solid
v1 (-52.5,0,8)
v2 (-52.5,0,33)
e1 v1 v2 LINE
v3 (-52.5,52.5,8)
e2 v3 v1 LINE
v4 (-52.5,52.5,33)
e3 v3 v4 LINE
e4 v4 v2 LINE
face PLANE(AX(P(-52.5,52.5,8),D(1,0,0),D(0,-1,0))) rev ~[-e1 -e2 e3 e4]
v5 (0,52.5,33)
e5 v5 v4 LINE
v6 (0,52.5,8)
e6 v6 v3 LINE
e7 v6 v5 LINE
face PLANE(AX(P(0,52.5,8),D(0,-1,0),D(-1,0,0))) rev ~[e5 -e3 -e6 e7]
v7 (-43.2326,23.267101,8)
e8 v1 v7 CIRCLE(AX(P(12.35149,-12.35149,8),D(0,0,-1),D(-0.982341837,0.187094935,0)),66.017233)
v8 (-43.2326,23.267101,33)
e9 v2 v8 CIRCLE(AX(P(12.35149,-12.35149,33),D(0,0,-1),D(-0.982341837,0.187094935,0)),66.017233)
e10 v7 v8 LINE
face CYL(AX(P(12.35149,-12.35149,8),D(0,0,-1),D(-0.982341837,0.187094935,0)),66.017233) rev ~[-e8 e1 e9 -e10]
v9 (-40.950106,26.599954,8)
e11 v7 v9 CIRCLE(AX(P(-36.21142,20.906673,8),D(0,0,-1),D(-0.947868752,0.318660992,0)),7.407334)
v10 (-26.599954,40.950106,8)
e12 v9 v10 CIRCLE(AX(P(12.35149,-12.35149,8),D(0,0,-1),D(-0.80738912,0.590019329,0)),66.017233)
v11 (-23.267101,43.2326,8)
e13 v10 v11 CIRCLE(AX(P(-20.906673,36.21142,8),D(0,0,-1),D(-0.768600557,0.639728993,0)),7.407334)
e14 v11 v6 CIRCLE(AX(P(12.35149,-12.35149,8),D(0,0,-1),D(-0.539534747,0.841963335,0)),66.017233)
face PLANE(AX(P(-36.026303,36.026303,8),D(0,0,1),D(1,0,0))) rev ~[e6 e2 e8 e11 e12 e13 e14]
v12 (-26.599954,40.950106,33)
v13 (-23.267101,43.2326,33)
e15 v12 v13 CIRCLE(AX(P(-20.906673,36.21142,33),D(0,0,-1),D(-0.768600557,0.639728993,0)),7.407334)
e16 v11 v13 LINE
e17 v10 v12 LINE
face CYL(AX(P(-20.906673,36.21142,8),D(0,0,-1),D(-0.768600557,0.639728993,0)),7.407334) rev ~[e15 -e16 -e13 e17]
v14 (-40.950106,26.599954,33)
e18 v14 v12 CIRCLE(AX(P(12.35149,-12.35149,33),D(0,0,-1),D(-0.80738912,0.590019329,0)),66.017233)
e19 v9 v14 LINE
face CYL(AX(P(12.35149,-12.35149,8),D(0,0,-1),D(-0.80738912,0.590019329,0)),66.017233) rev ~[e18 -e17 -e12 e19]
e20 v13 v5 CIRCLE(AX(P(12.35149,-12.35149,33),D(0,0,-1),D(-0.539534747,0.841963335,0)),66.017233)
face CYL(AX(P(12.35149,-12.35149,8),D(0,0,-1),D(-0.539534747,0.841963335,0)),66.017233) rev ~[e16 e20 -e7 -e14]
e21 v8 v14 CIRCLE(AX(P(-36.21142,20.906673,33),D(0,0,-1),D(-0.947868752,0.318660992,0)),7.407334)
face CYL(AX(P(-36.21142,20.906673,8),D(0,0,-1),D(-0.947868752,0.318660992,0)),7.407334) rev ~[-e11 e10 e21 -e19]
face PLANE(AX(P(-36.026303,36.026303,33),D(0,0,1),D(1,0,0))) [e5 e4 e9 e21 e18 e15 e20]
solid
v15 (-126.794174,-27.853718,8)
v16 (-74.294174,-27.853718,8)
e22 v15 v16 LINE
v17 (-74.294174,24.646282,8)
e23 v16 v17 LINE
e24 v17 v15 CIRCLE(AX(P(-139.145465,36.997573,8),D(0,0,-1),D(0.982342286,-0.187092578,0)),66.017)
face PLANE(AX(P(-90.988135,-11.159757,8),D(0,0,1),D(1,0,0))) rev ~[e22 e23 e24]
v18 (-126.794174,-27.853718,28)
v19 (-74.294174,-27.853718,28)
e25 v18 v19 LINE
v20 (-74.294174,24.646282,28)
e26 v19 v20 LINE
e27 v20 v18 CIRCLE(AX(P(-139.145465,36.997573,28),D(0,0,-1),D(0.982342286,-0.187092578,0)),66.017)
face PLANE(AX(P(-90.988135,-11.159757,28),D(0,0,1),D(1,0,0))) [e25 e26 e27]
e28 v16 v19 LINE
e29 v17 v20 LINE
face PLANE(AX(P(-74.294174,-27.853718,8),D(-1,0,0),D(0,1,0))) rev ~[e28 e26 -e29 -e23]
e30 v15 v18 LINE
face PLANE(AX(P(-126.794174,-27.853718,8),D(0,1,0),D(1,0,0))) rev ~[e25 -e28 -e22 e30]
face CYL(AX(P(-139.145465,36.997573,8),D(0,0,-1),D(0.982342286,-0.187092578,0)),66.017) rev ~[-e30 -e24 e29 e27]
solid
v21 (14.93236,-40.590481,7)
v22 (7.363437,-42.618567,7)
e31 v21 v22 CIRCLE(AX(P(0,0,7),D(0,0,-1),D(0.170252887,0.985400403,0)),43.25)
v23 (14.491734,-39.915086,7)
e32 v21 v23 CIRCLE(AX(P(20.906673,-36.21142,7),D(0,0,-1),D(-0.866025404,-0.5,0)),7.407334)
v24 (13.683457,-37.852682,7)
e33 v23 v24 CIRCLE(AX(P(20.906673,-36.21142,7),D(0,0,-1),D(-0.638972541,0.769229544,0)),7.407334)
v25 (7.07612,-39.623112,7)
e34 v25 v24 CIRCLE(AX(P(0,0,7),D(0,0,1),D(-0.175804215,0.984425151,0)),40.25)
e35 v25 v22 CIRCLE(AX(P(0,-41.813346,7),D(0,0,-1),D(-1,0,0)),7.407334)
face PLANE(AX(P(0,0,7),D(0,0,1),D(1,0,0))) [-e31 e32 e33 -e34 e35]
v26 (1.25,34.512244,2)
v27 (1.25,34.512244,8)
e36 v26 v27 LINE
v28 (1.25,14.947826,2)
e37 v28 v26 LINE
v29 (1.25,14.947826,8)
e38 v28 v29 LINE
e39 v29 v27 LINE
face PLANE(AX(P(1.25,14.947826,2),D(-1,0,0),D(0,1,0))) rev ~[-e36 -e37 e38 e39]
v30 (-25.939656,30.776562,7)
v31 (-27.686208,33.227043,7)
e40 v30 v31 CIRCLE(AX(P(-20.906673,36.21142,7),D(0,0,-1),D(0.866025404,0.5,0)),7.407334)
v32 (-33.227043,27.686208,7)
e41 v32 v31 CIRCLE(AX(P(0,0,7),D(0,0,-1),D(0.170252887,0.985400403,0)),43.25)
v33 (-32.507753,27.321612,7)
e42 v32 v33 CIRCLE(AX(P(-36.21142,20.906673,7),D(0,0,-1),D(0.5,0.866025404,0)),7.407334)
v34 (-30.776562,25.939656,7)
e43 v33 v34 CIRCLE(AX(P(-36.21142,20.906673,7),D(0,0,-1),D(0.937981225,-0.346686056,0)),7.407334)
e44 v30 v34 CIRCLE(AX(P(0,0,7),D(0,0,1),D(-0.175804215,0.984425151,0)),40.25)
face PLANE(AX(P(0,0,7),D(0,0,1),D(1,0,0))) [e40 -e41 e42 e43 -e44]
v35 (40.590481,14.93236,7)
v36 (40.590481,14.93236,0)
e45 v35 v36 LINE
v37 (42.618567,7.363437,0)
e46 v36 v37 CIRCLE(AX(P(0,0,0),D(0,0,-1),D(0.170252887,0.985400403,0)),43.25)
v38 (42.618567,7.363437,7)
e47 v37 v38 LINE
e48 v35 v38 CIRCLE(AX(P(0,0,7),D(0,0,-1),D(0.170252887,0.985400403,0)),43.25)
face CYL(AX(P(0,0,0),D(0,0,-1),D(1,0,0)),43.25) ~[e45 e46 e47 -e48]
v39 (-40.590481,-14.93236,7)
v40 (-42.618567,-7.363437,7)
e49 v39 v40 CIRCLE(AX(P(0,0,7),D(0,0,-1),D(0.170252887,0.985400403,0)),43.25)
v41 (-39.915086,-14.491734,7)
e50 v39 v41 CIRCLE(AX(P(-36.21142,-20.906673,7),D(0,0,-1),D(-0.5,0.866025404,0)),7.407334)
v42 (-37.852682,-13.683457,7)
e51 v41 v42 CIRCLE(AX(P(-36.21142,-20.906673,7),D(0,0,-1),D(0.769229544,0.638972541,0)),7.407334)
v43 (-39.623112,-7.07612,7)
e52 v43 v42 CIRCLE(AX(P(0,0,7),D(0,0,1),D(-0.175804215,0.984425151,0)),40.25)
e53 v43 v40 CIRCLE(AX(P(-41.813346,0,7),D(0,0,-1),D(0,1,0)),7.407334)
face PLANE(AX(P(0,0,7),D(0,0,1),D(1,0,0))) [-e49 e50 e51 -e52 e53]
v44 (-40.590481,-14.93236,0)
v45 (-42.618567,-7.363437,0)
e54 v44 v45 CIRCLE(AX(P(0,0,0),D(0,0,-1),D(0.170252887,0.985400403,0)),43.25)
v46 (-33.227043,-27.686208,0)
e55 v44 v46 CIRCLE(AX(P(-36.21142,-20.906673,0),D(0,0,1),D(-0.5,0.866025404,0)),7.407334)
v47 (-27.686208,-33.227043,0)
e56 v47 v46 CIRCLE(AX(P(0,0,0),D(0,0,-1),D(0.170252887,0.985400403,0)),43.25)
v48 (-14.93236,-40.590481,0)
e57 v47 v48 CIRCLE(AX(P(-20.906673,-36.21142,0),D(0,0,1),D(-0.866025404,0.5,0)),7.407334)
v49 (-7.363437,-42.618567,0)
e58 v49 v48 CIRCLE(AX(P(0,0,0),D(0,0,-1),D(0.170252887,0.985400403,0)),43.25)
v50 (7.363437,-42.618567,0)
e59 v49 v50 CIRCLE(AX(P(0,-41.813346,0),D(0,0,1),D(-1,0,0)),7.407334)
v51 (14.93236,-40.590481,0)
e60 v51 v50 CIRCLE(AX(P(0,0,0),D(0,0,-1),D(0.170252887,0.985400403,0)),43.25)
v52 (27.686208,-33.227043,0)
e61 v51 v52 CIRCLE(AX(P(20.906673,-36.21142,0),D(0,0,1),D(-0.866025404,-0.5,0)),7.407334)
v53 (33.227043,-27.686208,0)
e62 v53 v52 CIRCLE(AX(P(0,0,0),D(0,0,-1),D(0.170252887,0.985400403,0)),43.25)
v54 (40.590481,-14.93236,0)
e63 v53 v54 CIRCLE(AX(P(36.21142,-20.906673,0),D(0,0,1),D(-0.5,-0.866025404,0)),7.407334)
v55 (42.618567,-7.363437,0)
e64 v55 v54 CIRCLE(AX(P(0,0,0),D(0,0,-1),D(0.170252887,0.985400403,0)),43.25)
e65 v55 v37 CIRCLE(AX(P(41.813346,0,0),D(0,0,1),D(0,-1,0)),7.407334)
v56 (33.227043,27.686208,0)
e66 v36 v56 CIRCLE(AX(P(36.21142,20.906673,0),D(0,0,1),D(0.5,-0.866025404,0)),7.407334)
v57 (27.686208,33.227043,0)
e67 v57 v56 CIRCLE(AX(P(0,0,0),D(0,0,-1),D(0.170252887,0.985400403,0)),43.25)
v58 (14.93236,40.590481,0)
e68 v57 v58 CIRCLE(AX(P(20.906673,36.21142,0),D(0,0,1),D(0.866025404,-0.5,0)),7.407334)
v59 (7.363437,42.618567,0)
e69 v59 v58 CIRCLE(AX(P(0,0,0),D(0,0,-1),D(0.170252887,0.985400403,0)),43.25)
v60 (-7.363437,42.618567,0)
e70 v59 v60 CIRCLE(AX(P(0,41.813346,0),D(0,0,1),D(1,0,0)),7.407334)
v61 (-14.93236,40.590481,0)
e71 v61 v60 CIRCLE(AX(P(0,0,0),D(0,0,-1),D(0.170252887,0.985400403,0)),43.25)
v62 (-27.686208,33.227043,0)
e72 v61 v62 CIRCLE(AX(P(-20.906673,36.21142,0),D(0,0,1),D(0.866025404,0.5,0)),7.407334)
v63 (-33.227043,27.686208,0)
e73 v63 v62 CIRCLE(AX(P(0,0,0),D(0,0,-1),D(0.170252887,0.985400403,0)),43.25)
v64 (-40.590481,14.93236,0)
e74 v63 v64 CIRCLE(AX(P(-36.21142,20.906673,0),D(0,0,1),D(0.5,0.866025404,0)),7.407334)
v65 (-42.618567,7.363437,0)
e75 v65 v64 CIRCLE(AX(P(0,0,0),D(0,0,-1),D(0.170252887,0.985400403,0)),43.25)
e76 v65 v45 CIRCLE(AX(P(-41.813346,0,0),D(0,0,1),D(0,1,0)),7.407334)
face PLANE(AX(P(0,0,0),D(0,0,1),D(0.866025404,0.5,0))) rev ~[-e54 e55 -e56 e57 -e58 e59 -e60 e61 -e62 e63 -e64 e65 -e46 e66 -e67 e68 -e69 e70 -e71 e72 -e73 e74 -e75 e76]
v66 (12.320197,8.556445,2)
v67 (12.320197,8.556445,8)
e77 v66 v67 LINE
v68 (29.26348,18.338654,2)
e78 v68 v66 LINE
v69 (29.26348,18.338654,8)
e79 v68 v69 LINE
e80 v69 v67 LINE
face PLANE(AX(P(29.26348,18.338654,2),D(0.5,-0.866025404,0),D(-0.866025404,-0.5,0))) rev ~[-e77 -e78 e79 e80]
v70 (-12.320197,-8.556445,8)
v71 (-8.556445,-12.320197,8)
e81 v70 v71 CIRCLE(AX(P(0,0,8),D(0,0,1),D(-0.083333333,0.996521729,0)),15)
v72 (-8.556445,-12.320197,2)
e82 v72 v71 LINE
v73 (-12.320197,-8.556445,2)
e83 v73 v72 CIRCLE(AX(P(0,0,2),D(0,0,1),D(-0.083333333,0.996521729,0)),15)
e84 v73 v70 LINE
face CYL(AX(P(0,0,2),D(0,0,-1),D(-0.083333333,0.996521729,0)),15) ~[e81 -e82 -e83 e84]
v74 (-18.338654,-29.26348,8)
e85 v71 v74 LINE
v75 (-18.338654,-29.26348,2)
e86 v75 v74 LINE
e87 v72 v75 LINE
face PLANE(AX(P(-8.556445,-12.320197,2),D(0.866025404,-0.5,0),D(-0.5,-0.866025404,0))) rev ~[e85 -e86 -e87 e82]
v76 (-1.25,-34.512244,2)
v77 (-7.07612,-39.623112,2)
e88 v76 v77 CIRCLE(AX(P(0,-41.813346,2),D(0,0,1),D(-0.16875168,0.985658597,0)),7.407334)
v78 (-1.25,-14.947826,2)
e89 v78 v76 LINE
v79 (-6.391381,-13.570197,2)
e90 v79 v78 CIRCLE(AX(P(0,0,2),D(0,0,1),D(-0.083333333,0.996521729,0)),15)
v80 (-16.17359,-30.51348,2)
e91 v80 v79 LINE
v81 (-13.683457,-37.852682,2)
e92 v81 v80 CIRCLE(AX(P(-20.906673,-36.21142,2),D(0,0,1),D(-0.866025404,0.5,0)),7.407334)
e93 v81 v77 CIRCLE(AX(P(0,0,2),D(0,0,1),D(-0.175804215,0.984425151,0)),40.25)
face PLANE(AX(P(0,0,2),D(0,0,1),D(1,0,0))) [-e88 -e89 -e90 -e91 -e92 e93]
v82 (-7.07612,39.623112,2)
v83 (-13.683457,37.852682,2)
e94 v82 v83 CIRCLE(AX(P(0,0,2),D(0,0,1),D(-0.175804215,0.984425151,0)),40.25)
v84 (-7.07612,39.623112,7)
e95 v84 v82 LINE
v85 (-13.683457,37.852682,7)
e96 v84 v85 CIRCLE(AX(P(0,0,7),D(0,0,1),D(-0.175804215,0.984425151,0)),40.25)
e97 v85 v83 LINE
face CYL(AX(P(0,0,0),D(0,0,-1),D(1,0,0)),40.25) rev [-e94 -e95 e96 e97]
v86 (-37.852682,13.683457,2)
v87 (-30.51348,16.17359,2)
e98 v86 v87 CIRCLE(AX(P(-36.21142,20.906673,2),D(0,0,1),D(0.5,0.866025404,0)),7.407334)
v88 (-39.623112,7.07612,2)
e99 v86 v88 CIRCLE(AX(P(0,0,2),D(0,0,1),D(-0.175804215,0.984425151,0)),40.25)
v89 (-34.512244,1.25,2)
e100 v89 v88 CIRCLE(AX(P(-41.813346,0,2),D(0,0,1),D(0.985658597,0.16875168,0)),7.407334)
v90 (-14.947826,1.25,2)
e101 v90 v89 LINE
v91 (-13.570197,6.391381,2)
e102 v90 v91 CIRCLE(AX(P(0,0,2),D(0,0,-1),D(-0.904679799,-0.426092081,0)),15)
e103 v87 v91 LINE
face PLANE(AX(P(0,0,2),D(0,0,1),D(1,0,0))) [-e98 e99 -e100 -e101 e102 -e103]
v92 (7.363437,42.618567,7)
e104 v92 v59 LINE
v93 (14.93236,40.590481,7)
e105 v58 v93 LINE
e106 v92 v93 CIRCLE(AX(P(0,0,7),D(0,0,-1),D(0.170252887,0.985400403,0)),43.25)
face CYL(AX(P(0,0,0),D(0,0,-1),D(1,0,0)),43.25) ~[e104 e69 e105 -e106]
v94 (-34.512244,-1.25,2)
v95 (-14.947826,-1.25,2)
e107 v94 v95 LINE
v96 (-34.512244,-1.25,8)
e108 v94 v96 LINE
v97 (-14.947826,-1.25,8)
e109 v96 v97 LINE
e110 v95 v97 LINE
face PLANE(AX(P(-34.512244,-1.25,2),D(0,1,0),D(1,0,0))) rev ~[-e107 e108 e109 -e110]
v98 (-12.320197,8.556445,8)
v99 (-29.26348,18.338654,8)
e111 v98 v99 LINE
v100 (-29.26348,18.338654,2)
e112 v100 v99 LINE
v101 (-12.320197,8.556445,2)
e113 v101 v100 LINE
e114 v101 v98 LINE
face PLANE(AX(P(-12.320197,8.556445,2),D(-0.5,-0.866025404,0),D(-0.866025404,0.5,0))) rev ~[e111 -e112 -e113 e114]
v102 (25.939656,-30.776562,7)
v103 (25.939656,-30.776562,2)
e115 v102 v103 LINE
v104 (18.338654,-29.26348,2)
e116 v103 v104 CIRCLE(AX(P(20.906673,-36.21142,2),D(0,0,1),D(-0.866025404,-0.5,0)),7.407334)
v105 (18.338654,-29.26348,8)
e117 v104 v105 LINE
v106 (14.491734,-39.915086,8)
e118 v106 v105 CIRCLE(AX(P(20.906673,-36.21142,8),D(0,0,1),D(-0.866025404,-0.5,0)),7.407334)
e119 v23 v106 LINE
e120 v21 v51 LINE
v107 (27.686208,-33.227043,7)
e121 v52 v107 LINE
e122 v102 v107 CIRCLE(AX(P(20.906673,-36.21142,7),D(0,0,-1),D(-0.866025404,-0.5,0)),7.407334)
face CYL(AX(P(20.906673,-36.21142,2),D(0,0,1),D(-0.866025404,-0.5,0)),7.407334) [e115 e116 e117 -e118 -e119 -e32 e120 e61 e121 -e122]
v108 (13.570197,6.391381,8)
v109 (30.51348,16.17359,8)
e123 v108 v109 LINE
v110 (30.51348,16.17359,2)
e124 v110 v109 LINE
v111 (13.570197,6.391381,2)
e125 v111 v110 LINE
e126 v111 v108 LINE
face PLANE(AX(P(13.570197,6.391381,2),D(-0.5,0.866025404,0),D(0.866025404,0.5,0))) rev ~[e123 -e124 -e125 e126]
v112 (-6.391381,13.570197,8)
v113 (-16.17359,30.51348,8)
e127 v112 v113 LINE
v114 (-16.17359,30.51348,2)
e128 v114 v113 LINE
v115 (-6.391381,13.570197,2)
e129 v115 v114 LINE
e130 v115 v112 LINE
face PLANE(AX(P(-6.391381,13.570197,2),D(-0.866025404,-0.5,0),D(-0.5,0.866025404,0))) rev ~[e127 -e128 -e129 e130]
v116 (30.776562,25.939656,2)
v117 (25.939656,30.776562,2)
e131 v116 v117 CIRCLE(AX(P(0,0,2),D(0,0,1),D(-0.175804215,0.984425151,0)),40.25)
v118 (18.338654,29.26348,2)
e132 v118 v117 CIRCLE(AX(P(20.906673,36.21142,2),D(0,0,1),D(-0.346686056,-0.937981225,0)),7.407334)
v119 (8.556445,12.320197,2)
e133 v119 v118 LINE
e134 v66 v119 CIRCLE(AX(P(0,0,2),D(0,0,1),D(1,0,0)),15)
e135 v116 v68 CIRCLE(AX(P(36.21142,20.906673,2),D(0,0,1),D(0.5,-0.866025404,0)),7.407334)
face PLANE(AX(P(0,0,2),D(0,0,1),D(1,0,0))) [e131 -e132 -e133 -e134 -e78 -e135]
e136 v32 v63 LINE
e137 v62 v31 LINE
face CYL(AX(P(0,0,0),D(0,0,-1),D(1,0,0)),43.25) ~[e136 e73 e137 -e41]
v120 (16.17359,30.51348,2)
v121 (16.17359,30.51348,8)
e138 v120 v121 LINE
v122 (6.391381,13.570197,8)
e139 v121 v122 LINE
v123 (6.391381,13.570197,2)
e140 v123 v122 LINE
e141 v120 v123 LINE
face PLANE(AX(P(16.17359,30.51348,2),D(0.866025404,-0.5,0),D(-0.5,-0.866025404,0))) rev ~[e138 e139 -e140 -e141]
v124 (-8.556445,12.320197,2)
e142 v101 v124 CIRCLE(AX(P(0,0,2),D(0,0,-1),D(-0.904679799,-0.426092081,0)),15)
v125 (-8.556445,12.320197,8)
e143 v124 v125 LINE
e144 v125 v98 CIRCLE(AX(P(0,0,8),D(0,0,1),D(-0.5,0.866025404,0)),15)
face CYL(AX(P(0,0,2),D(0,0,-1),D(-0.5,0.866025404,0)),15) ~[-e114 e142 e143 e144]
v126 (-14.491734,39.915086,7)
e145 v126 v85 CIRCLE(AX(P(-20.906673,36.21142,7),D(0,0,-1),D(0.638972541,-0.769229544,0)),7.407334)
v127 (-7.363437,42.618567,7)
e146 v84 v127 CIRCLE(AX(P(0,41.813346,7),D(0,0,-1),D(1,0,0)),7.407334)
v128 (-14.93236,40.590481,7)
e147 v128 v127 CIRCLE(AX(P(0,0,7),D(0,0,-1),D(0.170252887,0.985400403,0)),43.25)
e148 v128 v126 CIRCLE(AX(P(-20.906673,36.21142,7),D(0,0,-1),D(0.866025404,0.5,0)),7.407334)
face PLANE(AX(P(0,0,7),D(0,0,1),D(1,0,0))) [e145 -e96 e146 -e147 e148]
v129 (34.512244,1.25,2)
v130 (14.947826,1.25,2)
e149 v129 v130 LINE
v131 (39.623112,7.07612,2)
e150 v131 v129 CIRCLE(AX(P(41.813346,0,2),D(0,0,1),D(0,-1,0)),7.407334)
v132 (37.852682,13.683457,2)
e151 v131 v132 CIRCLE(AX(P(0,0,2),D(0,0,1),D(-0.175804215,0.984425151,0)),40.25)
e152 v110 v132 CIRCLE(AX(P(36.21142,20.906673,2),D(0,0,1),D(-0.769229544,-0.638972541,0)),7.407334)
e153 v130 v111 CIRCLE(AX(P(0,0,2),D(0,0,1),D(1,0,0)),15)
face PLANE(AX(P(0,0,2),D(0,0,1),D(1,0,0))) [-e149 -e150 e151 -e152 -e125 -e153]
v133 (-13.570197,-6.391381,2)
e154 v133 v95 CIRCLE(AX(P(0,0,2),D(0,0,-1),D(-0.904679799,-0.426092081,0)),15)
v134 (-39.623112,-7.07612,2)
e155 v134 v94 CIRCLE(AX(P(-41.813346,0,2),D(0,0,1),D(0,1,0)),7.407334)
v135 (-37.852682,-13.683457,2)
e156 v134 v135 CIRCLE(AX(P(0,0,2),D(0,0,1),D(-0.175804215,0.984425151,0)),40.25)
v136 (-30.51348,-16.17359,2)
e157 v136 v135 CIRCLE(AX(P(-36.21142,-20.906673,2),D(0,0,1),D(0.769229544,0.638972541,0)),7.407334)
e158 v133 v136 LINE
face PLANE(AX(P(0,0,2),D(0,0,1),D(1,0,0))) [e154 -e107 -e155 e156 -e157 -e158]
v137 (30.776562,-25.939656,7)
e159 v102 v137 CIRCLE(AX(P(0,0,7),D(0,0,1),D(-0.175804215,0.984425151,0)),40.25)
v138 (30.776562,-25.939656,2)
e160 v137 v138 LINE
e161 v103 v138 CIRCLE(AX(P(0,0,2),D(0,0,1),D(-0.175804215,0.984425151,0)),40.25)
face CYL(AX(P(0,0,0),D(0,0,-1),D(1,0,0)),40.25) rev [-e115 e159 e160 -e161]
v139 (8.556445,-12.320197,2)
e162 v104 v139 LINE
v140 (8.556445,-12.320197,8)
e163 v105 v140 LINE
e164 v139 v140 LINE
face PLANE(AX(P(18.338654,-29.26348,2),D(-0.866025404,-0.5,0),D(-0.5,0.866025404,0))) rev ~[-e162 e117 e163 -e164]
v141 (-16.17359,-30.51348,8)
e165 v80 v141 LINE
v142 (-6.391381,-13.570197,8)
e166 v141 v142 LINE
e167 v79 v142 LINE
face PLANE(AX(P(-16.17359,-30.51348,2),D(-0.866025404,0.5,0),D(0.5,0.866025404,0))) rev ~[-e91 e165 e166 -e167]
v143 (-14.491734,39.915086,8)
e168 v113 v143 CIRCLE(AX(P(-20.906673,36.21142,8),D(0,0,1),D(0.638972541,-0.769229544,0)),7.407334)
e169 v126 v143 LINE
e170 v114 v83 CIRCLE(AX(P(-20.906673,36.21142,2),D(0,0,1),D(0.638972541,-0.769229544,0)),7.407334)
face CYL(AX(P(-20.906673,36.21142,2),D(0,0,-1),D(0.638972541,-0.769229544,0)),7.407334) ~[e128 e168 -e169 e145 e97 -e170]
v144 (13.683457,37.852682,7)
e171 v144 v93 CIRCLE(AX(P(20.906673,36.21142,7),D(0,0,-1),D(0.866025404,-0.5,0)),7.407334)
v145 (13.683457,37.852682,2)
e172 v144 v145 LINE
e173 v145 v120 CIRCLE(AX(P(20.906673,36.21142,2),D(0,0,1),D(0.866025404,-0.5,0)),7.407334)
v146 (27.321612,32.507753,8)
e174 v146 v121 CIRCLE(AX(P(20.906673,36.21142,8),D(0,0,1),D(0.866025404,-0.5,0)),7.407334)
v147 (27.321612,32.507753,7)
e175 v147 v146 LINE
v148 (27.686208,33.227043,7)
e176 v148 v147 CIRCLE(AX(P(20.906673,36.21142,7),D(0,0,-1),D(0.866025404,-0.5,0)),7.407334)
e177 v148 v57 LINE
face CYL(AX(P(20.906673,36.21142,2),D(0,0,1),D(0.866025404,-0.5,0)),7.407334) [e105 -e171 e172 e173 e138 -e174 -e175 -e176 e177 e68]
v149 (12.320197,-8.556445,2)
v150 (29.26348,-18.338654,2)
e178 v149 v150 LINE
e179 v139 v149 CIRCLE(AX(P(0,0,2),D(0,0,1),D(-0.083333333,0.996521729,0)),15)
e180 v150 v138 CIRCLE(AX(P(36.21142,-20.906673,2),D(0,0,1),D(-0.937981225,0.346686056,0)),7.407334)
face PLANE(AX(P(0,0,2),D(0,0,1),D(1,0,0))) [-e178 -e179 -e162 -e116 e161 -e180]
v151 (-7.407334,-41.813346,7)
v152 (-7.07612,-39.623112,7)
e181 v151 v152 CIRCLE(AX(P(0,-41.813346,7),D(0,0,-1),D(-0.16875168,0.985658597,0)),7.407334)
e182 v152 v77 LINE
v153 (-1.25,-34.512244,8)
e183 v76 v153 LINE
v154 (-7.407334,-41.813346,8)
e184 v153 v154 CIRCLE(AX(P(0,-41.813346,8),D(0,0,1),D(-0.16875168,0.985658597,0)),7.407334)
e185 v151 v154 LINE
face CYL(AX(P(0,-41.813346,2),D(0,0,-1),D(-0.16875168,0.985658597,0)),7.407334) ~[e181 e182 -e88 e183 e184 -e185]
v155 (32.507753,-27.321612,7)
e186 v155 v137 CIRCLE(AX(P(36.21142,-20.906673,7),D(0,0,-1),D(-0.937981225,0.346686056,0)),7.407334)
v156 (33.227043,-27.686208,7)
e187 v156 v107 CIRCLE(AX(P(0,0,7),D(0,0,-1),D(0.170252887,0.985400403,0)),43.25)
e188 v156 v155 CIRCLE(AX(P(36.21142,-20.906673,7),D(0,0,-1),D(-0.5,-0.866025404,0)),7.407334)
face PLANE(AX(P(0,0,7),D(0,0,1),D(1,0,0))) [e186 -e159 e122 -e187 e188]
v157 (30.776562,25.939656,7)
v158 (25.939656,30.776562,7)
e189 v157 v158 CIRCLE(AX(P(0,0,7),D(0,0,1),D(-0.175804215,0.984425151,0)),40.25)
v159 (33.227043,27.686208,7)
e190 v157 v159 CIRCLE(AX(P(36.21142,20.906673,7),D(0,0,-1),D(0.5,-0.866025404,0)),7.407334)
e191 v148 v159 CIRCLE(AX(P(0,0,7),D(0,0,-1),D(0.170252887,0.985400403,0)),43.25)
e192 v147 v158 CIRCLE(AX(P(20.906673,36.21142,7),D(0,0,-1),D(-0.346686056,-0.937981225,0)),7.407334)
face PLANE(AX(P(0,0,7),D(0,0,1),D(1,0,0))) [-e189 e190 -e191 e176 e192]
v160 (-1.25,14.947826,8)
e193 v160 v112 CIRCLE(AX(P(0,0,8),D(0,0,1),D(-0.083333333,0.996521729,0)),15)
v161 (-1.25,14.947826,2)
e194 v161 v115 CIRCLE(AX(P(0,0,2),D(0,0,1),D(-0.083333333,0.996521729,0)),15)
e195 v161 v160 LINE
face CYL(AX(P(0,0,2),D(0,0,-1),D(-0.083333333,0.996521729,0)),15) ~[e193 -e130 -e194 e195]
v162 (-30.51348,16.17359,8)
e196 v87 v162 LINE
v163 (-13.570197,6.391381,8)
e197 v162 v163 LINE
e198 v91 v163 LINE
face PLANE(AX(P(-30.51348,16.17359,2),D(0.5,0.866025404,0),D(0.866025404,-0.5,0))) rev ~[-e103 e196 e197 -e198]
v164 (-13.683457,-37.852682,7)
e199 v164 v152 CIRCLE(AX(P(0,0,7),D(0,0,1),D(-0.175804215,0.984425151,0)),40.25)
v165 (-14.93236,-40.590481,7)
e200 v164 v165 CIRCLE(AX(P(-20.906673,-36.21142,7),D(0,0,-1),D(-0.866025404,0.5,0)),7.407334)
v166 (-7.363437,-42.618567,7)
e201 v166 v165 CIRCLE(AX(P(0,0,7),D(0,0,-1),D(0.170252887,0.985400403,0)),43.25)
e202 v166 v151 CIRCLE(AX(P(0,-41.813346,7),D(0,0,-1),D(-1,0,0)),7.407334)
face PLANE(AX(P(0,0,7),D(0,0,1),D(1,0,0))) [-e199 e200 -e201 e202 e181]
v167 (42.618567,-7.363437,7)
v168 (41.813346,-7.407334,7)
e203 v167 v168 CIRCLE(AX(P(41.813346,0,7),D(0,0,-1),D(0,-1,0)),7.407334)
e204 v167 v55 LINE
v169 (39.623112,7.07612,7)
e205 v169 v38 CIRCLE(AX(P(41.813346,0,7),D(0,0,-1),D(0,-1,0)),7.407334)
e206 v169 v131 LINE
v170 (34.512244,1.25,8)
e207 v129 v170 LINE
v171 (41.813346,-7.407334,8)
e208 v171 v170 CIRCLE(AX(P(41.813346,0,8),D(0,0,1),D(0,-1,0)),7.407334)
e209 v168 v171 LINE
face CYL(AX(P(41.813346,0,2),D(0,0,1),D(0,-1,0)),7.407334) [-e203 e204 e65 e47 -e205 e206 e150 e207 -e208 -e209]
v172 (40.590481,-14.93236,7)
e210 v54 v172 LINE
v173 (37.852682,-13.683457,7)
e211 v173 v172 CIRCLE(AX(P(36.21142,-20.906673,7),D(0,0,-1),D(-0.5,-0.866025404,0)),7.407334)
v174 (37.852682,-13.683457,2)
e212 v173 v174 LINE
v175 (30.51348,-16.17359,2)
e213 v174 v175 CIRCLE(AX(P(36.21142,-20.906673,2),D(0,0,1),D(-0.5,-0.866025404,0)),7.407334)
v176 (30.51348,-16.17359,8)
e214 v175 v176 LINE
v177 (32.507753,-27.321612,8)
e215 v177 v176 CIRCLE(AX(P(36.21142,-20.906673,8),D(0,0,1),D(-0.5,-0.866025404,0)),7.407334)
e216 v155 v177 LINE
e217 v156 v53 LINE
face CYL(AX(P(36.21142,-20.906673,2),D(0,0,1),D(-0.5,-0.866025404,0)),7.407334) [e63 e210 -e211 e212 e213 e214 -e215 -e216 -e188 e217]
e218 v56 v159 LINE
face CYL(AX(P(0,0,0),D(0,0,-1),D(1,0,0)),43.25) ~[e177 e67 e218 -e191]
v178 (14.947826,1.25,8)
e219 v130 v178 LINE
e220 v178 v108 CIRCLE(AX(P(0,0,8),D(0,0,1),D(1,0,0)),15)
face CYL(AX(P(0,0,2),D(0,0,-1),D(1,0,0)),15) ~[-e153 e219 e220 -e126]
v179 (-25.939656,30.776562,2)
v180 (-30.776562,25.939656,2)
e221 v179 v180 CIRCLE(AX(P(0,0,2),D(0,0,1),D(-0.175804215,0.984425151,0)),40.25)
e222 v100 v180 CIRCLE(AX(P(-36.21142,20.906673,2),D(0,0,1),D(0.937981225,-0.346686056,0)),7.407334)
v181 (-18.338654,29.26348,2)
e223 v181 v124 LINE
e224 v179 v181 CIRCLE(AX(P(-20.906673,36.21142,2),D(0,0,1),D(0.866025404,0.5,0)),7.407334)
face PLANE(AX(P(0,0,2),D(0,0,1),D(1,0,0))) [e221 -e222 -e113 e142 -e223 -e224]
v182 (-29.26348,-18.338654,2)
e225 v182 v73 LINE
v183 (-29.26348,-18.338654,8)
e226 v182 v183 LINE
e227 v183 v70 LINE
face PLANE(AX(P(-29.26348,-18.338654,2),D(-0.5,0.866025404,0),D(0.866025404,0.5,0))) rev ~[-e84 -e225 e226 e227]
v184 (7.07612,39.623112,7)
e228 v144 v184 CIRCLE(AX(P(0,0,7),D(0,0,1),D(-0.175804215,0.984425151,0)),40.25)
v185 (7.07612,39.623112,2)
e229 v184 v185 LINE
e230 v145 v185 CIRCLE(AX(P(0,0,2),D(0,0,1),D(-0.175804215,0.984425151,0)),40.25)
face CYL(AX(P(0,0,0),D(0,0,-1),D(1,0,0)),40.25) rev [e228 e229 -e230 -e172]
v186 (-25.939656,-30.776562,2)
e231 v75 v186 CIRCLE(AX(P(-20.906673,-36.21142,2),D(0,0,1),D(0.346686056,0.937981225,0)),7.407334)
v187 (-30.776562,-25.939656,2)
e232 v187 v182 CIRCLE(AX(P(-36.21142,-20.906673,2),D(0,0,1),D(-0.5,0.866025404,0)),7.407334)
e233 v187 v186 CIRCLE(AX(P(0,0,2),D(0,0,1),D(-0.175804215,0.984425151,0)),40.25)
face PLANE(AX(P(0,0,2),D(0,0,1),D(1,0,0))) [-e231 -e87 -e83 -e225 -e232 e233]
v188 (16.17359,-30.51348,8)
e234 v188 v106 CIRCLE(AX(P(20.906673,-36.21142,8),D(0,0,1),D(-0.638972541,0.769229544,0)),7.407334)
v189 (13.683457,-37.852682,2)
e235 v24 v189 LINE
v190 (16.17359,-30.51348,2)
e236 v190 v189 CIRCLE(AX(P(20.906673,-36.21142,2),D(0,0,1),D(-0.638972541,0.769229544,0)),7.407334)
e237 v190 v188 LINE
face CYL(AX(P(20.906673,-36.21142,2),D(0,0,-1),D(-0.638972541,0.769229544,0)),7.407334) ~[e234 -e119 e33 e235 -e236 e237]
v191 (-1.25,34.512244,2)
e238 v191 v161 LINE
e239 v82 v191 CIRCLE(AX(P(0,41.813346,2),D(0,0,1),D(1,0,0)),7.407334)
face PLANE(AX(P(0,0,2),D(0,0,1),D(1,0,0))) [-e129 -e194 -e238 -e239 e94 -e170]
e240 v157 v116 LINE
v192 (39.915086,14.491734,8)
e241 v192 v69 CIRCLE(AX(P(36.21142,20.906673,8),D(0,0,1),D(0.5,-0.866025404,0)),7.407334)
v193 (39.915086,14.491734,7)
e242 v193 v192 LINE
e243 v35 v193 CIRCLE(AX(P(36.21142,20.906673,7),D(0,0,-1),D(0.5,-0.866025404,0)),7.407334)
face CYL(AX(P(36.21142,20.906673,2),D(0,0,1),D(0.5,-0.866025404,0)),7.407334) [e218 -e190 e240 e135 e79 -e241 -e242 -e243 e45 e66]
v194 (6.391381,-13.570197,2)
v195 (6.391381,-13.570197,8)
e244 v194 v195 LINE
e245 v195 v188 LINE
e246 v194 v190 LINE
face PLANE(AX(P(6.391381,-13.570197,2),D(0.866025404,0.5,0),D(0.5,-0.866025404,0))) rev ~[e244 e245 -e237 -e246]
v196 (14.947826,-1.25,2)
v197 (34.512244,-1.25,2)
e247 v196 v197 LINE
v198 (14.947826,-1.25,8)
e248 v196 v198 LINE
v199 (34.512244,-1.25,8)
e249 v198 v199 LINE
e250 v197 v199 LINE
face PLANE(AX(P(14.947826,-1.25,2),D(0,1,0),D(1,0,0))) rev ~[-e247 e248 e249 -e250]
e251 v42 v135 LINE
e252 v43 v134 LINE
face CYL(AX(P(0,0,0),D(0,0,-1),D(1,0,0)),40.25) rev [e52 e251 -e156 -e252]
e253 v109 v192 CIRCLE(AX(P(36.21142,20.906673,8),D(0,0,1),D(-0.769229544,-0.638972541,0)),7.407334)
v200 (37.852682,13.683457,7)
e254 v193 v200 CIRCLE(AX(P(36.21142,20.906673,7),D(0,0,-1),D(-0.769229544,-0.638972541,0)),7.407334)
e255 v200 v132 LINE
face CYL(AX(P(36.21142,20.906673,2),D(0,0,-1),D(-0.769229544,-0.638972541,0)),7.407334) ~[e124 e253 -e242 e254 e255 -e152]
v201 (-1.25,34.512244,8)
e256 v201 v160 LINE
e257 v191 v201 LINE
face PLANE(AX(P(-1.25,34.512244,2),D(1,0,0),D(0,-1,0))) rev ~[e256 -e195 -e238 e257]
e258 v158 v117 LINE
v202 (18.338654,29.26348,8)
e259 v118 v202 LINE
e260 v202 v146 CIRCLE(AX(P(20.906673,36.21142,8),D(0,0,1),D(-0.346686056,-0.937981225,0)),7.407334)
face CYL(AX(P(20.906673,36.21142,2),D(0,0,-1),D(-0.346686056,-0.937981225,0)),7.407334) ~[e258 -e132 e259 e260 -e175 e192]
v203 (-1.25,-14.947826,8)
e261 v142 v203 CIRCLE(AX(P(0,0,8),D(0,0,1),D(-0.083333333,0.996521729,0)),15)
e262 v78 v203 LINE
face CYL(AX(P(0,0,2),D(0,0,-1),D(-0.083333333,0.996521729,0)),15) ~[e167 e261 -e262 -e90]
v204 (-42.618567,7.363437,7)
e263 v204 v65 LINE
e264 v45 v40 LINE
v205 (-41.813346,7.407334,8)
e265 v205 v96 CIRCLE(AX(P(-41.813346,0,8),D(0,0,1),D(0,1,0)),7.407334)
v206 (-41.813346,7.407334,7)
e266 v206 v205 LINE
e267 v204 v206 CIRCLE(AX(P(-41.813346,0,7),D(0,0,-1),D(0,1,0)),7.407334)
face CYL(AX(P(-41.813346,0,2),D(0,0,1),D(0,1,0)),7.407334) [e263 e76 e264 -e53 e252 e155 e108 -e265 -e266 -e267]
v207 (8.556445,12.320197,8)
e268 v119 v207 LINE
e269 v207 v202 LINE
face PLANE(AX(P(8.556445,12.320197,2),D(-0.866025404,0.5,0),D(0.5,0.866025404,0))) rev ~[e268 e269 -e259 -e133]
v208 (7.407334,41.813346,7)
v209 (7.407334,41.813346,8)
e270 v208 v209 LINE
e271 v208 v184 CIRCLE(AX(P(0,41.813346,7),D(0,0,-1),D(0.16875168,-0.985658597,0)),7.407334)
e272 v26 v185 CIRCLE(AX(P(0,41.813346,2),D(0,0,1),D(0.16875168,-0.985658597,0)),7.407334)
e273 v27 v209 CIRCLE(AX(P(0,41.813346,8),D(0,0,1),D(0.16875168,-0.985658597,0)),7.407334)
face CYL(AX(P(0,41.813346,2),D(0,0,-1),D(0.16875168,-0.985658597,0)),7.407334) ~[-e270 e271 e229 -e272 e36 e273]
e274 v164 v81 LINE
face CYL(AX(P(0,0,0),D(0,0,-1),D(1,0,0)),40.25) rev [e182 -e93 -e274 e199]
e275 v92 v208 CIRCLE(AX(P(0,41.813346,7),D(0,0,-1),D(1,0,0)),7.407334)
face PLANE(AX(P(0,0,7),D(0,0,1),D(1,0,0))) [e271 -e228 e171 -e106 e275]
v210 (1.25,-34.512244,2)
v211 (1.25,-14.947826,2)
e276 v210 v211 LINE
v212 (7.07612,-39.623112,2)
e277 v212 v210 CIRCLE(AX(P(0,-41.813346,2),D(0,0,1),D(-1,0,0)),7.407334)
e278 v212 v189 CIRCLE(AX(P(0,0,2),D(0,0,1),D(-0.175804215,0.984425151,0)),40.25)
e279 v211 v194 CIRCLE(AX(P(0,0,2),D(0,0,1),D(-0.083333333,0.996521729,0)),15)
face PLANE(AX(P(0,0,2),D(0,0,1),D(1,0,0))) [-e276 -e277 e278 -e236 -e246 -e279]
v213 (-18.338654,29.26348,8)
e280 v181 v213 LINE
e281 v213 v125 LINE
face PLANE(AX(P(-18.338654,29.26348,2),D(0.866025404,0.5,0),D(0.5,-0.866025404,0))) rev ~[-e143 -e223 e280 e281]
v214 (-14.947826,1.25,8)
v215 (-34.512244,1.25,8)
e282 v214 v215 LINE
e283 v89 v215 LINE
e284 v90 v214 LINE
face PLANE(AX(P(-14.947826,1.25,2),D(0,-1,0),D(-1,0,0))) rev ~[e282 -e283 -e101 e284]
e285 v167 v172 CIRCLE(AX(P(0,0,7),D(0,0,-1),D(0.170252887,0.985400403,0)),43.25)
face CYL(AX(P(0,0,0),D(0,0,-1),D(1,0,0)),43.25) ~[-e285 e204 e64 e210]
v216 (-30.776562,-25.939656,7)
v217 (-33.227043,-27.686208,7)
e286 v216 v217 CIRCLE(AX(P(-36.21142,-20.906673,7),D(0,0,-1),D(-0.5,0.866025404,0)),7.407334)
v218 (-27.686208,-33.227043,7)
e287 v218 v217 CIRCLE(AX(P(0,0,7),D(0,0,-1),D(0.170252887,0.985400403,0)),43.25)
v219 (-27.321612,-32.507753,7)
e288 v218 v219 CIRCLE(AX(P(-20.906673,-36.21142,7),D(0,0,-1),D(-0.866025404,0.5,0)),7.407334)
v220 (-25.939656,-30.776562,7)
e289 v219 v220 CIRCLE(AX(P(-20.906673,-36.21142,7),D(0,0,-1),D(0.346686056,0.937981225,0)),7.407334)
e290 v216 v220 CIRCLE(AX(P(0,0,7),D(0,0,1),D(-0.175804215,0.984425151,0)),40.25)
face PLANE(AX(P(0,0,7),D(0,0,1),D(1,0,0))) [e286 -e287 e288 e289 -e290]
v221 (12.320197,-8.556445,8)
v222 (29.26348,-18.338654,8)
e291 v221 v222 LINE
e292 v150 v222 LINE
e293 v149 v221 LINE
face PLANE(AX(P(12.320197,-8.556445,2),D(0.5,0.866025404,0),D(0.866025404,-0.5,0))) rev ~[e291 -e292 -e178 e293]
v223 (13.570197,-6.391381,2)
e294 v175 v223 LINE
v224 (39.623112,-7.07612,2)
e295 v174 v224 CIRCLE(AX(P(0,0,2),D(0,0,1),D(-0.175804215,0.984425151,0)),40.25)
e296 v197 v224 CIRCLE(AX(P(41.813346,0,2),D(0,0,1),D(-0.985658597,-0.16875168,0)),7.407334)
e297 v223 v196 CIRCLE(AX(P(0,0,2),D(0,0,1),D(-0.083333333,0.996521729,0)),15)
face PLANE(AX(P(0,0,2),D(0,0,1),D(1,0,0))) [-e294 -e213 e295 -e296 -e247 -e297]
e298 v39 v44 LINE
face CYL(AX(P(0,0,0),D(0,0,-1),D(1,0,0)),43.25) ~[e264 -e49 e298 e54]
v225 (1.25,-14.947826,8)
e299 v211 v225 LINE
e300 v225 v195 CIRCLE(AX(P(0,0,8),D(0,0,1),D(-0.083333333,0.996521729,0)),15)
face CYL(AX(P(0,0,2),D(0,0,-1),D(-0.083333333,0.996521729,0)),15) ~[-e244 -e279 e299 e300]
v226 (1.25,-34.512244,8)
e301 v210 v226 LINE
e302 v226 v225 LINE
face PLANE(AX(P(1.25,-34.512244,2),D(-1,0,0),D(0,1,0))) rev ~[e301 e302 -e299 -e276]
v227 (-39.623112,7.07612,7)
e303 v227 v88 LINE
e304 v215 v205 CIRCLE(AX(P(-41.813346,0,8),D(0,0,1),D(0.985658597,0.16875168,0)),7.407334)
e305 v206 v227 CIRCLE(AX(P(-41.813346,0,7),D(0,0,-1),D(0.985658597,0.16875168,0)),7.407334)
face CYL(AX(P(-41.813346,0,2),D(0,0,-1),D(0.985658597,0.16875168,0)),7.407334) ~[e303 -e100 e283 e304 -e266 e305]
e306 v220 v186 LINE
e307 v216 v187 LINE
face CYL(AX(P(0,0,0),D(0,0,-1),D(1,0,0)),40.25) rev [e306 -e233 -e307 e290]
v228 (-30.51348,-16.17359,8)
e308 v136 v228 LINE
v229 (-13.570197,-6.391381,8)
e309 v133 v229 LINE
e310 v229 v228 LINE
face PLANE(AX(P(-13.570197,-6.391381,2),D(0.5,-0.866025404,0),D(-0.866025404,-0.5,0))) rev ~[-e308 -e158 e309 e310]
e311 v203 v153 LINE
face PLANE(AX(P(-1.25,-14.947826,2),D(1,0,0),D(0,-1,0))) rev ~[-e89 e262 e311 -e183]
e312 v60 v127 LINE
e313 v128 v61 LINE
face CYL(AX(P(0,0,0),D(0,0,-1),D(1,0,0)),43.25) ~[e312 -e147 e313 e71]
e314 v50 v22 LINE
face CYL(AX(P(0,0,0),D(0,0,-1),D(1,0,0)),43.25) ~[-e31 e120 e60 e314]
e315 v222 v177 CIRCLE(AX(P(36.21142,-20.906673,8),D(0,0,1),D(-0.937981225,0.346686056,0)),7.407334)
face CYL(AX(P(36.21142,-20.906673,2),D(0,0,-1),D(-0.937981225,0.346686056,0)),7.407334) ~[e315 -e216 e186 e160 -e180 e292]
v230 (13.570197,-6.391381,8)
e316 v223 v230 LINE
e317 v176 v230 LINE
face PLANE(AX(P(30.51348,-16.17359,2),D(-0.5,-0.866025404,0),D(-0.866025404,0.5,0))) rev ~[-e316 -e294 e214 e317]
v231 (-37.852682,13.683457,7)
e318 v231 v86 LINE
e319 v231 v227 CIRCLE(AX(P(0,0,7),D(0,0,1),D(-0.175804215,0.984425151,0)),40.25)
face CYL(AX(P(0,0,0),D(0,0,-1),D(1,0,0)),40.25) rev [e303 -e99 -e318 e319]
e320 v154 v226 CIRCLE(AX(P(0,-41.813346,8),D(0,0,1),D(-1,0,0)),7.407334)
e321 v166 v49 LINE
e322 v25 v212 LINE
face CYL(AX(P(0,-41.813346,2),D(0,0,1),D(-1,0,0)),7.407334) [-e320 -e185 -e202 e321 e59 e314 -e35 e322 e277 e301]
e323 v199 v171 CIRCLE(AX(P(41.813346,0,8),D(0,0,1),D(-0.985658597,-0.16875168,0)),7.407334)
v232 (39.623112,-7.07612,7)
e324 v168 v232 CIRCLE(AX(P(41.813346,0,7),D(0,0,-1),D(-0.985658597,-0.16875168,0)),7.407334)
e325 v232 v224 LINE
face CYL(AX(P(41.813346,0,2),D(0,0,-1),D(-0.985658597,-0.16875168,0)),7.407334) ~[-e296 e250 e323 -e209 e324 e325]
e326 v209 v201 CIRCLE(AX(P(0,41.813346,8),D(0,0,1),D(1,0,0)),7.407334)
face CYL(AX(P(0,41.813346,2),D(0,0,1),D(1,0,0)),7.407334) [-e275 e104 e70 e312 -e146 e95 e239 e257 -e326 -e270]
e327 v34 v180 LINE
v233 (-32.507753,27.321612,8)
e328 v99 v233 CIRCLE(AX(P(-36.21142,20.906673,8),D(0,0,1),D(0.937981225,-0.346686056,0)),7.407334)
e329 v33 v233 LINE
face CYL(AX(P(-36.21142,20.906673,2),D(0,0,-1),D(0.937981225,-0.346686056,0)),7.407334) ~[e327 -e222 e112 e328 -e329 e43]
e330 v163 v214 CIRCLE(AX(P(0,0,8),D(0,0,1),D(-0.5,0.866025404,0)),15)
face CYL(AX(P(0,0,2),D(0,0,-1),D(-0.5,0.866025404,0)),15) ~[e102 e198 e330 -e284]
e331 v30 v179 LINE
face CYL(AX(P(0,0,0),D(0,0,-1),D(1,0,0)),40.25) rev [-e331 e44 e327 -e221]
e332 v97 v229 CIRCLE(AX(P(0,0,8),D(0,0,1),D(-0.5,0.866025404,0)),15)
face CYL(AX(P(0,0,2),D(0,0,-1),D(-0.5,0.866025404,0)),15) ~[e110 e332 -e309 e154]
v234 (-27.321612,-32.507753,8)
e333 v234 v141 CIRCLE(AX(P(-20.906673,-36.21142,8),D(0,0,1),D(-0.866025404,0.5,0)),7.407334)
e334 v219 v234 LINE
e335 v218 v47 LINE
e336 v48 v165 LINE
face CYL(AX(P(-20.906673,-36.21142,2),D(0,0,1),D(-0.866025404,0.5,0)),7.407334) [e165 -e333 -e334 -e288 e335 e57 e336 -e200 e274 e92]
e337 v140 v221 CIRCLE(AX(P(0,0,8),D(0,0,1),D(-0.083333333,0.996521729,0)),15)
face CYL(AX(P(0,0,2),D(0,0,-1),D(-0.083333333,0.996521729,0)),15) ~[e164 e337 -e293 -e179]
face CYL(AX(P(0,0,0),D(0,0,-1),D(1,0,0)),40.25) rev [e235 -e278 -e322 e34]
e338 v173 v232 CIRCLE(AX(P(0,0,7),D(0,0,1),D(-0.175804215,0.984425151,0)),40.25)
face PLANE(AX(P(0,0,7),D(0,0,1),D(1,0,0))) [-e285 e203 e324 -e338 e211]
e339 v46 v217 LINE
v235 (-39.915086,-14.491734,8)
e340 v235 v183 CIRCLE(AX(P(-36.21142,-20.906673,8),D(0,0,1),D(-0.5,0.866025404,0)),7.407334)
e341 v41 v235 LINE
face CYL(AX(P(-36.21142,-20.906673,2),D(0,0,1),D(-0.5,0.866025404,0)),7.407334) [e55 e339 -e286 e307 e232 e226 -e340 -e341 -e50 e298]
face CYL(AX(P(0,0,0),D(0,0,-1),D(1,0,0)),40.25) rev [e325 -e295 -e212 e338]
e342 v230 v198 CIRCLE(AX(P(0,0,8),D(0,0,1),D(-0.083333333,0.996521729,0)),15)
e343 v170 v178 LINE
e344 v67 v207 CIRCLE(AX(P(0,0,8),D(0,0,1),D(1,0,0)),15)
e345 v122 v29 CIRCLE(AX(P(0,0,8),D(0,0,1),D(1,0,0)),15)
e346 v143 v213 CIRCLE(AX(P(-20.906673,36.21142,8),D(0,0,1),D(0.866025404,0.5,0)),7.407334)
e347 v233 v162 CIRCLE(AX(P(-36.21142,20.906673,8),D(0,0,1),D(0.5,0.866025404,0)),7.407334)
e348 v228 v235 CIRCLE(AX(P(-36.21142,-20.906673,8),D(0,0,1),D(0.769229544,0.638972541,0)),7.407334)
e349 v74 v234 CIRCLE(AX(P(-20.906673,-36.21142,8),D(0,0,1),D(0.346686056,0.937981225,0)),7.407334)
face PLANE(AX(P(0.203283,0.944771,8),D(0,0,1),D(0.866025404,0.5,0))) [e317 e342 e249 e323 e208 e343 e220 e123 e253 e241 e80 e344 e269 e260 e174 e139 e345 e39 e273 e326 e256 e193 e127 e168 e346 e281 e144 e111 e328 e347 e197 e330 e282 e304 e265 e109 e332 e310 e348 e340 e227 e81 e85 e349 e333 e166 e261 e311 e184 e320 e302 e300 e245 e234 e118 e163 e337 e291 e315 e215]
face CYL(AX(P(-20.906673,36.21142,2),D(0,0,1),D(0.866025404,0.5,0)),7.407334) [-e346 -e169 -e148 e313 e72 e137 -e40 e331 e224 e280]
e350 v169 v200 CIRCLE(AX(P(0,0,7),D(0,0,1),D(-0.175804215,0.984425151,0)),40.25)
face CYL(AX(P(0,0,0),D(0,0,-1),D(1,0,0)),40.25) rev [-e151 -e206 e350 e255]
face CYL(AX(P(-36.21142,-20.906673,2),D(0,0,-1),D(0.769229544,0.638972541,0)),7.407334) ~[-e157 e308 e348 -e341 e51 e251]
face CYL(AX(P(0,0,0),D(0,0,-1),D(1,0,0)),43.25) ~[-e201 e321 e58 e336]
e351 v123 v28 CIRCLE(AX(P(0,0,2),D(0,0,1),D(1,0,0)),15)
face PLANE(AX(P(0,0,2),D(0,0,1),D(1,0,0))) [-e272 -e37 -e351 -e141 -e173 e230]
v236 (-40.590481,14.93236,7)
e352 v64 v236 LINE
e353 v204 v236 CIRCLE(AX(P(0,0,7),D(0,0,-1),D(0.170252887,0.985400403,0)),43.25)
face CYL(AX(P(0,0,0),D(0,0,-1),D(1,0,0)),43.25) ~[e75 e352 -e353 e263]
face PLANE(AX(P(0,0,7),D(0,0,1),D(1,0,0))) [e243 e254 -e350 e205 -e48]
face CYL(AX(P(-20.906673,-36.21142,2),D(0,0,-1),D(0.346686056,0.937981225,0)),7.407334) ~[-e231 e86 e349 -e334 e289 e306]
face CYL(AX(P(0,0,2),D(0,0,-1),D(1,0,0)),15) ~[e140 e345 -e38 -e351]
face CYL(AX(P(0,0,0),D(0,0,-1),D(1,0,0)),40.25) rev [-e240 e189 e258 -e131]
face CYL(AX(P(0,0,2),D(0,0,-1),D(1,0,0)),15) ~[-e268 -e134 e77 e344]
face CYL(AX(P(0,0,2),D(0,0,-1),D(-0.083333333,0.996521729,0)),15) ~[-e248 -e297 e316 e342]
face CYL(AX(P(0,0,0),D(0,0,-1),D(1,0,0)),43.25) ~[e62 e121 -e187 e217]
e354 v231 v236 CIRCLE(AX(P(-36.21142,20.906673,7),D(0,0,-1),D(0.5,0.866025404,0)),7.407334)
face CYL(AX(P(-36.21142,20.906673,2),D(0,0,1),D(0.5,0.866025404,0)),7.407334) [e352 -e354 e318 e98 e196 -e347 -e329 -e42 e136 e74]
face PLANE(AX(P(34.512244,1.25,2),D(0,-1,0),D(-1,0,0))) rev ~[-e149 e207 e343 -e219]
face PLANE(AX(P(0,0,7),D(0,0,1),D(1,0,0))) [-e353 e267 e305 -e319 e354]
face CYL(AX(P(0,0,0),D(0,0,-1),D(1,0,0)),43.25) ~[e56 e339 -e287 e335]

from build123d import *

# Parameters (mm, degrees)
F0_R          = 40.25
F1_DEPTH      = 2
F0_R_2        = 43.25
F2_DEPTH      = 7
F4_DEPTH      = 6
F4_DEPTH_BACK = 2
F5_COUNT      = 12
F8_DEPTH      = 25
F9_DEPTH      = 20


with BuildPart() as f1:
    # F0 (on Top) → F1 (new body)
    with BuildSketch(Plane.XY):
        Circle(F0_R)
    extrude(amount=F1_DEPTH)

    # F0 (on Top) → F2 (join)
    with BuildSketch(Plane.XY):
        Circle(F0_R_2)
        Circle(F0_R, mode=Mode.SUBTRACT)
    extrude(amount=F2_DEPTH)

    # F3 (on face) → F4 (join, two sides)
    with BuildSketch(Plane.XY.offset(2)) as f4_sk:
        with BuildLine():
            ThreePointArc((-1.25, 14.9478259289), (-10.1550480058, -11.0397010829), (15, 0))
            ThreePointArc((15, 0), (11.0397010829, 10.1550480058), (1.25, 14.9478259289))
            Line((1.25, 14.9478259289), (-1.25, 14.9478259289))
        make_face()
        with BuildLine():
            Line((-1.25, 14.9478259289), (1.25, 14.9478259289))
            ThreePointArc((1.25, 14.9478259289), (0, 15), (-1.25, 14.9478259289))
        make_face()
        with BuildLine():
            ThreePointArc((-1.25, 14.9478259289), (0, 15), (1.25, 14.9478259289))
            Line((1.25, 14.9478259289), (1.25, 34.5122436197))
            ThreePointArc((1.25, 34.5122436197), (0, 34.4060120647), (-1.25, 34.5122436197))
            Line((-1.25, 34.5122436197), (-1.25, 14.9478259289))
        make_face()
        with BuildLine():
            Line((1.25, 35.6158574725), (1.25, 34.5122436197))
            ThreePointArc((1.25, 34.5122436197), (5.6624976292, 37.0379177359), (7.4073336461, 41.8133457108))
            ThreePointArc((7.4073336461, 41.8133457108), (-4.7754279749, 47.47584334), (-1.25, 34.5122436197))
            Line((-1.25, 34.5122436197), (-1.25, 35.6158574725))
            Line((-1.25, 35.6158574725), (1.25, 35.6158574725))
        make_face()
        with BuildLine():
            ThreePointArc((-1.25, 34.5122436197), (0, 34.4060120647), (1.25, 34.5122436197))
            Line((1.25, 34.5122436197), (1.25, 35.6158574725))
            Line((1.25, 35.6158574725), (-1.25, 35.6158574725))
            Line((-1.25, 35.6158574725), (-1.25, 34.5122436197))
        make_face()
    extrude(amount=F4_DEPTH)
    extrude(f4_sk.sketch, amount=-F4_DEPTH_BACK)


with BuildPart() as f5_1:
    # F5: instance of F1
    add(f1.part.rotate(Axis((0, 0, 8), (0, 0, 1)), 1 * 360 / F5_COUNT))


with BuildPart() as f5_2:
    # F5: instance of F1
    add(f1.part.rotate(Axis((0, 0, 8), (0, 0, 1)), 2 * 360 / F5_COUNT))


with BuildPart() as f5_3:
    # F5: instance of F1
    add(f1.part.rotate(Axis((0, 0, 8), (0, 0, 1)), 3 * 360 / F5_COUNT))


with BuildPart() as f5_4:
    # F5: instance of F1
    add(f1.part.rotate(Axis((0, 0, 8), (0, 0, 1)), 4 * 360 / F5_COUNT))


with BuildPart() as f5_5:
    # F5: instance of F1
    add(f1.part.rotate(Axis((0, 0, 8), (0, 0, 1)), 5 * 360 / F5_COUNT))


with BuildPart() as f5_6:
    # F5: instance of F1
    add(f1.part.rotate(Axis((0, 0, 8), (0, 0, 1)), 6 * 360 / F5_COUNT))


with BuildPart() as f5_7:
    # F5: instance of F1
    add(f1.part.rotate(Axis((0, 0, 8), (0, 0, 1)), 7 * 360 / F5_COUNT))


with BuildPart() as f5_8:
    # F5: instance of F1
    add(f1.part.rotate(Axis((0, 0, 8), (0, 0, 1)), 8 * 360 / F5_COUNT))


with BuildPart() as f5_9:
    # F5: instance of F1
    add(f1.part.rotate(Axis((0, 0, 8), (0, 0, 1)), 9 * 360 / F5_COUNT))


with BuildPart() as f5_10:
    # F5: instance of F1
    add(f1.part.rotate(Axis((0, 0, 8), (0, 0, 1)), 10 * 360 / F5_COUNT))


with BuildPart() as f5_11:
    # F5: instance of F1
    add(f1.part.rotate(Axis((0, 0, 8), (0, 0, 1)), 11 * 360 / F5_COUNT))


with BuildPart() as f1_1:
    add(f1.part)

    # F6: union F5_4, F5_5, F5_6, F5_7, F5_9, F5_8, F5_10, F5_11, F5_3, F5_2, F5_1
    add(f5_4.part)
    add(f5_5.part)
    add(f5_6.part)
    add(f5_7.part)
    add(f5_9.part)
    add(f5_8.part)
    add(f5_10.part)
    add(f5_11.part)
    add(f5_3.part)
    add(f5_2.part)
    add(f5_1.part)


with BuildPart() as f8:
    # F7 (on face) → F8 (new body)
    with BuildSketch(Plane.XY.offset(8)):
        with BuildLine():
            Line((0, 52.5), (-52.5, 52.5))
            Line((-52.5, 52.5), (-52.5, 0))
            ThreePointArc((-52.5, 0), (-48.9797558206, 12.0770455366), (-43.2325997049, 23.2671011466))
            ThreePointArc((-43.2325997049, 23.2671011466), (-42.3229324795, 25.0921240978), (-40.9501056978, 26.5999536175))
            ThreePointArc((-40.9501056978, 26.5999536175), (-34.3297431889, 34.3297431889), (-26.5999536175, 40.9501056978))
            ThreePointArc((-26.5999536175, 40.9501056978), (-25.0921240978, 42.3229324795), (-23.2671011466, 43.2325997049))
            ThreePointArc((-23.2671011466, 43.2325997049), (-12.0770455366, 48.9797558206), (0, 52.5))
        make_face()
    extrude(amount=F8_DEPTH)


with BuildPart() as f9:
    # F7 (on face) → F9 (new body)
    with BuildSketch(Plane.XY.offset(8)):
        with BuildLine():
            Line((-74.2941743135, -27.8537180275), (-74.2941743135, 24.6462819725))
            ThreePointArc((-74.2941743135, 24.6462819725), (-92.4643966502, -9.6834956908), (-126.7941743135, -27.8537180275))
            Line((-126.7941743135, -27.8537180275), (-74.2941743135, -27.8537180275))
        make_face()
    extrude(amount=F9_DEPTH)


solid = Compound([f1_1.part, f8.part, f9.part])
